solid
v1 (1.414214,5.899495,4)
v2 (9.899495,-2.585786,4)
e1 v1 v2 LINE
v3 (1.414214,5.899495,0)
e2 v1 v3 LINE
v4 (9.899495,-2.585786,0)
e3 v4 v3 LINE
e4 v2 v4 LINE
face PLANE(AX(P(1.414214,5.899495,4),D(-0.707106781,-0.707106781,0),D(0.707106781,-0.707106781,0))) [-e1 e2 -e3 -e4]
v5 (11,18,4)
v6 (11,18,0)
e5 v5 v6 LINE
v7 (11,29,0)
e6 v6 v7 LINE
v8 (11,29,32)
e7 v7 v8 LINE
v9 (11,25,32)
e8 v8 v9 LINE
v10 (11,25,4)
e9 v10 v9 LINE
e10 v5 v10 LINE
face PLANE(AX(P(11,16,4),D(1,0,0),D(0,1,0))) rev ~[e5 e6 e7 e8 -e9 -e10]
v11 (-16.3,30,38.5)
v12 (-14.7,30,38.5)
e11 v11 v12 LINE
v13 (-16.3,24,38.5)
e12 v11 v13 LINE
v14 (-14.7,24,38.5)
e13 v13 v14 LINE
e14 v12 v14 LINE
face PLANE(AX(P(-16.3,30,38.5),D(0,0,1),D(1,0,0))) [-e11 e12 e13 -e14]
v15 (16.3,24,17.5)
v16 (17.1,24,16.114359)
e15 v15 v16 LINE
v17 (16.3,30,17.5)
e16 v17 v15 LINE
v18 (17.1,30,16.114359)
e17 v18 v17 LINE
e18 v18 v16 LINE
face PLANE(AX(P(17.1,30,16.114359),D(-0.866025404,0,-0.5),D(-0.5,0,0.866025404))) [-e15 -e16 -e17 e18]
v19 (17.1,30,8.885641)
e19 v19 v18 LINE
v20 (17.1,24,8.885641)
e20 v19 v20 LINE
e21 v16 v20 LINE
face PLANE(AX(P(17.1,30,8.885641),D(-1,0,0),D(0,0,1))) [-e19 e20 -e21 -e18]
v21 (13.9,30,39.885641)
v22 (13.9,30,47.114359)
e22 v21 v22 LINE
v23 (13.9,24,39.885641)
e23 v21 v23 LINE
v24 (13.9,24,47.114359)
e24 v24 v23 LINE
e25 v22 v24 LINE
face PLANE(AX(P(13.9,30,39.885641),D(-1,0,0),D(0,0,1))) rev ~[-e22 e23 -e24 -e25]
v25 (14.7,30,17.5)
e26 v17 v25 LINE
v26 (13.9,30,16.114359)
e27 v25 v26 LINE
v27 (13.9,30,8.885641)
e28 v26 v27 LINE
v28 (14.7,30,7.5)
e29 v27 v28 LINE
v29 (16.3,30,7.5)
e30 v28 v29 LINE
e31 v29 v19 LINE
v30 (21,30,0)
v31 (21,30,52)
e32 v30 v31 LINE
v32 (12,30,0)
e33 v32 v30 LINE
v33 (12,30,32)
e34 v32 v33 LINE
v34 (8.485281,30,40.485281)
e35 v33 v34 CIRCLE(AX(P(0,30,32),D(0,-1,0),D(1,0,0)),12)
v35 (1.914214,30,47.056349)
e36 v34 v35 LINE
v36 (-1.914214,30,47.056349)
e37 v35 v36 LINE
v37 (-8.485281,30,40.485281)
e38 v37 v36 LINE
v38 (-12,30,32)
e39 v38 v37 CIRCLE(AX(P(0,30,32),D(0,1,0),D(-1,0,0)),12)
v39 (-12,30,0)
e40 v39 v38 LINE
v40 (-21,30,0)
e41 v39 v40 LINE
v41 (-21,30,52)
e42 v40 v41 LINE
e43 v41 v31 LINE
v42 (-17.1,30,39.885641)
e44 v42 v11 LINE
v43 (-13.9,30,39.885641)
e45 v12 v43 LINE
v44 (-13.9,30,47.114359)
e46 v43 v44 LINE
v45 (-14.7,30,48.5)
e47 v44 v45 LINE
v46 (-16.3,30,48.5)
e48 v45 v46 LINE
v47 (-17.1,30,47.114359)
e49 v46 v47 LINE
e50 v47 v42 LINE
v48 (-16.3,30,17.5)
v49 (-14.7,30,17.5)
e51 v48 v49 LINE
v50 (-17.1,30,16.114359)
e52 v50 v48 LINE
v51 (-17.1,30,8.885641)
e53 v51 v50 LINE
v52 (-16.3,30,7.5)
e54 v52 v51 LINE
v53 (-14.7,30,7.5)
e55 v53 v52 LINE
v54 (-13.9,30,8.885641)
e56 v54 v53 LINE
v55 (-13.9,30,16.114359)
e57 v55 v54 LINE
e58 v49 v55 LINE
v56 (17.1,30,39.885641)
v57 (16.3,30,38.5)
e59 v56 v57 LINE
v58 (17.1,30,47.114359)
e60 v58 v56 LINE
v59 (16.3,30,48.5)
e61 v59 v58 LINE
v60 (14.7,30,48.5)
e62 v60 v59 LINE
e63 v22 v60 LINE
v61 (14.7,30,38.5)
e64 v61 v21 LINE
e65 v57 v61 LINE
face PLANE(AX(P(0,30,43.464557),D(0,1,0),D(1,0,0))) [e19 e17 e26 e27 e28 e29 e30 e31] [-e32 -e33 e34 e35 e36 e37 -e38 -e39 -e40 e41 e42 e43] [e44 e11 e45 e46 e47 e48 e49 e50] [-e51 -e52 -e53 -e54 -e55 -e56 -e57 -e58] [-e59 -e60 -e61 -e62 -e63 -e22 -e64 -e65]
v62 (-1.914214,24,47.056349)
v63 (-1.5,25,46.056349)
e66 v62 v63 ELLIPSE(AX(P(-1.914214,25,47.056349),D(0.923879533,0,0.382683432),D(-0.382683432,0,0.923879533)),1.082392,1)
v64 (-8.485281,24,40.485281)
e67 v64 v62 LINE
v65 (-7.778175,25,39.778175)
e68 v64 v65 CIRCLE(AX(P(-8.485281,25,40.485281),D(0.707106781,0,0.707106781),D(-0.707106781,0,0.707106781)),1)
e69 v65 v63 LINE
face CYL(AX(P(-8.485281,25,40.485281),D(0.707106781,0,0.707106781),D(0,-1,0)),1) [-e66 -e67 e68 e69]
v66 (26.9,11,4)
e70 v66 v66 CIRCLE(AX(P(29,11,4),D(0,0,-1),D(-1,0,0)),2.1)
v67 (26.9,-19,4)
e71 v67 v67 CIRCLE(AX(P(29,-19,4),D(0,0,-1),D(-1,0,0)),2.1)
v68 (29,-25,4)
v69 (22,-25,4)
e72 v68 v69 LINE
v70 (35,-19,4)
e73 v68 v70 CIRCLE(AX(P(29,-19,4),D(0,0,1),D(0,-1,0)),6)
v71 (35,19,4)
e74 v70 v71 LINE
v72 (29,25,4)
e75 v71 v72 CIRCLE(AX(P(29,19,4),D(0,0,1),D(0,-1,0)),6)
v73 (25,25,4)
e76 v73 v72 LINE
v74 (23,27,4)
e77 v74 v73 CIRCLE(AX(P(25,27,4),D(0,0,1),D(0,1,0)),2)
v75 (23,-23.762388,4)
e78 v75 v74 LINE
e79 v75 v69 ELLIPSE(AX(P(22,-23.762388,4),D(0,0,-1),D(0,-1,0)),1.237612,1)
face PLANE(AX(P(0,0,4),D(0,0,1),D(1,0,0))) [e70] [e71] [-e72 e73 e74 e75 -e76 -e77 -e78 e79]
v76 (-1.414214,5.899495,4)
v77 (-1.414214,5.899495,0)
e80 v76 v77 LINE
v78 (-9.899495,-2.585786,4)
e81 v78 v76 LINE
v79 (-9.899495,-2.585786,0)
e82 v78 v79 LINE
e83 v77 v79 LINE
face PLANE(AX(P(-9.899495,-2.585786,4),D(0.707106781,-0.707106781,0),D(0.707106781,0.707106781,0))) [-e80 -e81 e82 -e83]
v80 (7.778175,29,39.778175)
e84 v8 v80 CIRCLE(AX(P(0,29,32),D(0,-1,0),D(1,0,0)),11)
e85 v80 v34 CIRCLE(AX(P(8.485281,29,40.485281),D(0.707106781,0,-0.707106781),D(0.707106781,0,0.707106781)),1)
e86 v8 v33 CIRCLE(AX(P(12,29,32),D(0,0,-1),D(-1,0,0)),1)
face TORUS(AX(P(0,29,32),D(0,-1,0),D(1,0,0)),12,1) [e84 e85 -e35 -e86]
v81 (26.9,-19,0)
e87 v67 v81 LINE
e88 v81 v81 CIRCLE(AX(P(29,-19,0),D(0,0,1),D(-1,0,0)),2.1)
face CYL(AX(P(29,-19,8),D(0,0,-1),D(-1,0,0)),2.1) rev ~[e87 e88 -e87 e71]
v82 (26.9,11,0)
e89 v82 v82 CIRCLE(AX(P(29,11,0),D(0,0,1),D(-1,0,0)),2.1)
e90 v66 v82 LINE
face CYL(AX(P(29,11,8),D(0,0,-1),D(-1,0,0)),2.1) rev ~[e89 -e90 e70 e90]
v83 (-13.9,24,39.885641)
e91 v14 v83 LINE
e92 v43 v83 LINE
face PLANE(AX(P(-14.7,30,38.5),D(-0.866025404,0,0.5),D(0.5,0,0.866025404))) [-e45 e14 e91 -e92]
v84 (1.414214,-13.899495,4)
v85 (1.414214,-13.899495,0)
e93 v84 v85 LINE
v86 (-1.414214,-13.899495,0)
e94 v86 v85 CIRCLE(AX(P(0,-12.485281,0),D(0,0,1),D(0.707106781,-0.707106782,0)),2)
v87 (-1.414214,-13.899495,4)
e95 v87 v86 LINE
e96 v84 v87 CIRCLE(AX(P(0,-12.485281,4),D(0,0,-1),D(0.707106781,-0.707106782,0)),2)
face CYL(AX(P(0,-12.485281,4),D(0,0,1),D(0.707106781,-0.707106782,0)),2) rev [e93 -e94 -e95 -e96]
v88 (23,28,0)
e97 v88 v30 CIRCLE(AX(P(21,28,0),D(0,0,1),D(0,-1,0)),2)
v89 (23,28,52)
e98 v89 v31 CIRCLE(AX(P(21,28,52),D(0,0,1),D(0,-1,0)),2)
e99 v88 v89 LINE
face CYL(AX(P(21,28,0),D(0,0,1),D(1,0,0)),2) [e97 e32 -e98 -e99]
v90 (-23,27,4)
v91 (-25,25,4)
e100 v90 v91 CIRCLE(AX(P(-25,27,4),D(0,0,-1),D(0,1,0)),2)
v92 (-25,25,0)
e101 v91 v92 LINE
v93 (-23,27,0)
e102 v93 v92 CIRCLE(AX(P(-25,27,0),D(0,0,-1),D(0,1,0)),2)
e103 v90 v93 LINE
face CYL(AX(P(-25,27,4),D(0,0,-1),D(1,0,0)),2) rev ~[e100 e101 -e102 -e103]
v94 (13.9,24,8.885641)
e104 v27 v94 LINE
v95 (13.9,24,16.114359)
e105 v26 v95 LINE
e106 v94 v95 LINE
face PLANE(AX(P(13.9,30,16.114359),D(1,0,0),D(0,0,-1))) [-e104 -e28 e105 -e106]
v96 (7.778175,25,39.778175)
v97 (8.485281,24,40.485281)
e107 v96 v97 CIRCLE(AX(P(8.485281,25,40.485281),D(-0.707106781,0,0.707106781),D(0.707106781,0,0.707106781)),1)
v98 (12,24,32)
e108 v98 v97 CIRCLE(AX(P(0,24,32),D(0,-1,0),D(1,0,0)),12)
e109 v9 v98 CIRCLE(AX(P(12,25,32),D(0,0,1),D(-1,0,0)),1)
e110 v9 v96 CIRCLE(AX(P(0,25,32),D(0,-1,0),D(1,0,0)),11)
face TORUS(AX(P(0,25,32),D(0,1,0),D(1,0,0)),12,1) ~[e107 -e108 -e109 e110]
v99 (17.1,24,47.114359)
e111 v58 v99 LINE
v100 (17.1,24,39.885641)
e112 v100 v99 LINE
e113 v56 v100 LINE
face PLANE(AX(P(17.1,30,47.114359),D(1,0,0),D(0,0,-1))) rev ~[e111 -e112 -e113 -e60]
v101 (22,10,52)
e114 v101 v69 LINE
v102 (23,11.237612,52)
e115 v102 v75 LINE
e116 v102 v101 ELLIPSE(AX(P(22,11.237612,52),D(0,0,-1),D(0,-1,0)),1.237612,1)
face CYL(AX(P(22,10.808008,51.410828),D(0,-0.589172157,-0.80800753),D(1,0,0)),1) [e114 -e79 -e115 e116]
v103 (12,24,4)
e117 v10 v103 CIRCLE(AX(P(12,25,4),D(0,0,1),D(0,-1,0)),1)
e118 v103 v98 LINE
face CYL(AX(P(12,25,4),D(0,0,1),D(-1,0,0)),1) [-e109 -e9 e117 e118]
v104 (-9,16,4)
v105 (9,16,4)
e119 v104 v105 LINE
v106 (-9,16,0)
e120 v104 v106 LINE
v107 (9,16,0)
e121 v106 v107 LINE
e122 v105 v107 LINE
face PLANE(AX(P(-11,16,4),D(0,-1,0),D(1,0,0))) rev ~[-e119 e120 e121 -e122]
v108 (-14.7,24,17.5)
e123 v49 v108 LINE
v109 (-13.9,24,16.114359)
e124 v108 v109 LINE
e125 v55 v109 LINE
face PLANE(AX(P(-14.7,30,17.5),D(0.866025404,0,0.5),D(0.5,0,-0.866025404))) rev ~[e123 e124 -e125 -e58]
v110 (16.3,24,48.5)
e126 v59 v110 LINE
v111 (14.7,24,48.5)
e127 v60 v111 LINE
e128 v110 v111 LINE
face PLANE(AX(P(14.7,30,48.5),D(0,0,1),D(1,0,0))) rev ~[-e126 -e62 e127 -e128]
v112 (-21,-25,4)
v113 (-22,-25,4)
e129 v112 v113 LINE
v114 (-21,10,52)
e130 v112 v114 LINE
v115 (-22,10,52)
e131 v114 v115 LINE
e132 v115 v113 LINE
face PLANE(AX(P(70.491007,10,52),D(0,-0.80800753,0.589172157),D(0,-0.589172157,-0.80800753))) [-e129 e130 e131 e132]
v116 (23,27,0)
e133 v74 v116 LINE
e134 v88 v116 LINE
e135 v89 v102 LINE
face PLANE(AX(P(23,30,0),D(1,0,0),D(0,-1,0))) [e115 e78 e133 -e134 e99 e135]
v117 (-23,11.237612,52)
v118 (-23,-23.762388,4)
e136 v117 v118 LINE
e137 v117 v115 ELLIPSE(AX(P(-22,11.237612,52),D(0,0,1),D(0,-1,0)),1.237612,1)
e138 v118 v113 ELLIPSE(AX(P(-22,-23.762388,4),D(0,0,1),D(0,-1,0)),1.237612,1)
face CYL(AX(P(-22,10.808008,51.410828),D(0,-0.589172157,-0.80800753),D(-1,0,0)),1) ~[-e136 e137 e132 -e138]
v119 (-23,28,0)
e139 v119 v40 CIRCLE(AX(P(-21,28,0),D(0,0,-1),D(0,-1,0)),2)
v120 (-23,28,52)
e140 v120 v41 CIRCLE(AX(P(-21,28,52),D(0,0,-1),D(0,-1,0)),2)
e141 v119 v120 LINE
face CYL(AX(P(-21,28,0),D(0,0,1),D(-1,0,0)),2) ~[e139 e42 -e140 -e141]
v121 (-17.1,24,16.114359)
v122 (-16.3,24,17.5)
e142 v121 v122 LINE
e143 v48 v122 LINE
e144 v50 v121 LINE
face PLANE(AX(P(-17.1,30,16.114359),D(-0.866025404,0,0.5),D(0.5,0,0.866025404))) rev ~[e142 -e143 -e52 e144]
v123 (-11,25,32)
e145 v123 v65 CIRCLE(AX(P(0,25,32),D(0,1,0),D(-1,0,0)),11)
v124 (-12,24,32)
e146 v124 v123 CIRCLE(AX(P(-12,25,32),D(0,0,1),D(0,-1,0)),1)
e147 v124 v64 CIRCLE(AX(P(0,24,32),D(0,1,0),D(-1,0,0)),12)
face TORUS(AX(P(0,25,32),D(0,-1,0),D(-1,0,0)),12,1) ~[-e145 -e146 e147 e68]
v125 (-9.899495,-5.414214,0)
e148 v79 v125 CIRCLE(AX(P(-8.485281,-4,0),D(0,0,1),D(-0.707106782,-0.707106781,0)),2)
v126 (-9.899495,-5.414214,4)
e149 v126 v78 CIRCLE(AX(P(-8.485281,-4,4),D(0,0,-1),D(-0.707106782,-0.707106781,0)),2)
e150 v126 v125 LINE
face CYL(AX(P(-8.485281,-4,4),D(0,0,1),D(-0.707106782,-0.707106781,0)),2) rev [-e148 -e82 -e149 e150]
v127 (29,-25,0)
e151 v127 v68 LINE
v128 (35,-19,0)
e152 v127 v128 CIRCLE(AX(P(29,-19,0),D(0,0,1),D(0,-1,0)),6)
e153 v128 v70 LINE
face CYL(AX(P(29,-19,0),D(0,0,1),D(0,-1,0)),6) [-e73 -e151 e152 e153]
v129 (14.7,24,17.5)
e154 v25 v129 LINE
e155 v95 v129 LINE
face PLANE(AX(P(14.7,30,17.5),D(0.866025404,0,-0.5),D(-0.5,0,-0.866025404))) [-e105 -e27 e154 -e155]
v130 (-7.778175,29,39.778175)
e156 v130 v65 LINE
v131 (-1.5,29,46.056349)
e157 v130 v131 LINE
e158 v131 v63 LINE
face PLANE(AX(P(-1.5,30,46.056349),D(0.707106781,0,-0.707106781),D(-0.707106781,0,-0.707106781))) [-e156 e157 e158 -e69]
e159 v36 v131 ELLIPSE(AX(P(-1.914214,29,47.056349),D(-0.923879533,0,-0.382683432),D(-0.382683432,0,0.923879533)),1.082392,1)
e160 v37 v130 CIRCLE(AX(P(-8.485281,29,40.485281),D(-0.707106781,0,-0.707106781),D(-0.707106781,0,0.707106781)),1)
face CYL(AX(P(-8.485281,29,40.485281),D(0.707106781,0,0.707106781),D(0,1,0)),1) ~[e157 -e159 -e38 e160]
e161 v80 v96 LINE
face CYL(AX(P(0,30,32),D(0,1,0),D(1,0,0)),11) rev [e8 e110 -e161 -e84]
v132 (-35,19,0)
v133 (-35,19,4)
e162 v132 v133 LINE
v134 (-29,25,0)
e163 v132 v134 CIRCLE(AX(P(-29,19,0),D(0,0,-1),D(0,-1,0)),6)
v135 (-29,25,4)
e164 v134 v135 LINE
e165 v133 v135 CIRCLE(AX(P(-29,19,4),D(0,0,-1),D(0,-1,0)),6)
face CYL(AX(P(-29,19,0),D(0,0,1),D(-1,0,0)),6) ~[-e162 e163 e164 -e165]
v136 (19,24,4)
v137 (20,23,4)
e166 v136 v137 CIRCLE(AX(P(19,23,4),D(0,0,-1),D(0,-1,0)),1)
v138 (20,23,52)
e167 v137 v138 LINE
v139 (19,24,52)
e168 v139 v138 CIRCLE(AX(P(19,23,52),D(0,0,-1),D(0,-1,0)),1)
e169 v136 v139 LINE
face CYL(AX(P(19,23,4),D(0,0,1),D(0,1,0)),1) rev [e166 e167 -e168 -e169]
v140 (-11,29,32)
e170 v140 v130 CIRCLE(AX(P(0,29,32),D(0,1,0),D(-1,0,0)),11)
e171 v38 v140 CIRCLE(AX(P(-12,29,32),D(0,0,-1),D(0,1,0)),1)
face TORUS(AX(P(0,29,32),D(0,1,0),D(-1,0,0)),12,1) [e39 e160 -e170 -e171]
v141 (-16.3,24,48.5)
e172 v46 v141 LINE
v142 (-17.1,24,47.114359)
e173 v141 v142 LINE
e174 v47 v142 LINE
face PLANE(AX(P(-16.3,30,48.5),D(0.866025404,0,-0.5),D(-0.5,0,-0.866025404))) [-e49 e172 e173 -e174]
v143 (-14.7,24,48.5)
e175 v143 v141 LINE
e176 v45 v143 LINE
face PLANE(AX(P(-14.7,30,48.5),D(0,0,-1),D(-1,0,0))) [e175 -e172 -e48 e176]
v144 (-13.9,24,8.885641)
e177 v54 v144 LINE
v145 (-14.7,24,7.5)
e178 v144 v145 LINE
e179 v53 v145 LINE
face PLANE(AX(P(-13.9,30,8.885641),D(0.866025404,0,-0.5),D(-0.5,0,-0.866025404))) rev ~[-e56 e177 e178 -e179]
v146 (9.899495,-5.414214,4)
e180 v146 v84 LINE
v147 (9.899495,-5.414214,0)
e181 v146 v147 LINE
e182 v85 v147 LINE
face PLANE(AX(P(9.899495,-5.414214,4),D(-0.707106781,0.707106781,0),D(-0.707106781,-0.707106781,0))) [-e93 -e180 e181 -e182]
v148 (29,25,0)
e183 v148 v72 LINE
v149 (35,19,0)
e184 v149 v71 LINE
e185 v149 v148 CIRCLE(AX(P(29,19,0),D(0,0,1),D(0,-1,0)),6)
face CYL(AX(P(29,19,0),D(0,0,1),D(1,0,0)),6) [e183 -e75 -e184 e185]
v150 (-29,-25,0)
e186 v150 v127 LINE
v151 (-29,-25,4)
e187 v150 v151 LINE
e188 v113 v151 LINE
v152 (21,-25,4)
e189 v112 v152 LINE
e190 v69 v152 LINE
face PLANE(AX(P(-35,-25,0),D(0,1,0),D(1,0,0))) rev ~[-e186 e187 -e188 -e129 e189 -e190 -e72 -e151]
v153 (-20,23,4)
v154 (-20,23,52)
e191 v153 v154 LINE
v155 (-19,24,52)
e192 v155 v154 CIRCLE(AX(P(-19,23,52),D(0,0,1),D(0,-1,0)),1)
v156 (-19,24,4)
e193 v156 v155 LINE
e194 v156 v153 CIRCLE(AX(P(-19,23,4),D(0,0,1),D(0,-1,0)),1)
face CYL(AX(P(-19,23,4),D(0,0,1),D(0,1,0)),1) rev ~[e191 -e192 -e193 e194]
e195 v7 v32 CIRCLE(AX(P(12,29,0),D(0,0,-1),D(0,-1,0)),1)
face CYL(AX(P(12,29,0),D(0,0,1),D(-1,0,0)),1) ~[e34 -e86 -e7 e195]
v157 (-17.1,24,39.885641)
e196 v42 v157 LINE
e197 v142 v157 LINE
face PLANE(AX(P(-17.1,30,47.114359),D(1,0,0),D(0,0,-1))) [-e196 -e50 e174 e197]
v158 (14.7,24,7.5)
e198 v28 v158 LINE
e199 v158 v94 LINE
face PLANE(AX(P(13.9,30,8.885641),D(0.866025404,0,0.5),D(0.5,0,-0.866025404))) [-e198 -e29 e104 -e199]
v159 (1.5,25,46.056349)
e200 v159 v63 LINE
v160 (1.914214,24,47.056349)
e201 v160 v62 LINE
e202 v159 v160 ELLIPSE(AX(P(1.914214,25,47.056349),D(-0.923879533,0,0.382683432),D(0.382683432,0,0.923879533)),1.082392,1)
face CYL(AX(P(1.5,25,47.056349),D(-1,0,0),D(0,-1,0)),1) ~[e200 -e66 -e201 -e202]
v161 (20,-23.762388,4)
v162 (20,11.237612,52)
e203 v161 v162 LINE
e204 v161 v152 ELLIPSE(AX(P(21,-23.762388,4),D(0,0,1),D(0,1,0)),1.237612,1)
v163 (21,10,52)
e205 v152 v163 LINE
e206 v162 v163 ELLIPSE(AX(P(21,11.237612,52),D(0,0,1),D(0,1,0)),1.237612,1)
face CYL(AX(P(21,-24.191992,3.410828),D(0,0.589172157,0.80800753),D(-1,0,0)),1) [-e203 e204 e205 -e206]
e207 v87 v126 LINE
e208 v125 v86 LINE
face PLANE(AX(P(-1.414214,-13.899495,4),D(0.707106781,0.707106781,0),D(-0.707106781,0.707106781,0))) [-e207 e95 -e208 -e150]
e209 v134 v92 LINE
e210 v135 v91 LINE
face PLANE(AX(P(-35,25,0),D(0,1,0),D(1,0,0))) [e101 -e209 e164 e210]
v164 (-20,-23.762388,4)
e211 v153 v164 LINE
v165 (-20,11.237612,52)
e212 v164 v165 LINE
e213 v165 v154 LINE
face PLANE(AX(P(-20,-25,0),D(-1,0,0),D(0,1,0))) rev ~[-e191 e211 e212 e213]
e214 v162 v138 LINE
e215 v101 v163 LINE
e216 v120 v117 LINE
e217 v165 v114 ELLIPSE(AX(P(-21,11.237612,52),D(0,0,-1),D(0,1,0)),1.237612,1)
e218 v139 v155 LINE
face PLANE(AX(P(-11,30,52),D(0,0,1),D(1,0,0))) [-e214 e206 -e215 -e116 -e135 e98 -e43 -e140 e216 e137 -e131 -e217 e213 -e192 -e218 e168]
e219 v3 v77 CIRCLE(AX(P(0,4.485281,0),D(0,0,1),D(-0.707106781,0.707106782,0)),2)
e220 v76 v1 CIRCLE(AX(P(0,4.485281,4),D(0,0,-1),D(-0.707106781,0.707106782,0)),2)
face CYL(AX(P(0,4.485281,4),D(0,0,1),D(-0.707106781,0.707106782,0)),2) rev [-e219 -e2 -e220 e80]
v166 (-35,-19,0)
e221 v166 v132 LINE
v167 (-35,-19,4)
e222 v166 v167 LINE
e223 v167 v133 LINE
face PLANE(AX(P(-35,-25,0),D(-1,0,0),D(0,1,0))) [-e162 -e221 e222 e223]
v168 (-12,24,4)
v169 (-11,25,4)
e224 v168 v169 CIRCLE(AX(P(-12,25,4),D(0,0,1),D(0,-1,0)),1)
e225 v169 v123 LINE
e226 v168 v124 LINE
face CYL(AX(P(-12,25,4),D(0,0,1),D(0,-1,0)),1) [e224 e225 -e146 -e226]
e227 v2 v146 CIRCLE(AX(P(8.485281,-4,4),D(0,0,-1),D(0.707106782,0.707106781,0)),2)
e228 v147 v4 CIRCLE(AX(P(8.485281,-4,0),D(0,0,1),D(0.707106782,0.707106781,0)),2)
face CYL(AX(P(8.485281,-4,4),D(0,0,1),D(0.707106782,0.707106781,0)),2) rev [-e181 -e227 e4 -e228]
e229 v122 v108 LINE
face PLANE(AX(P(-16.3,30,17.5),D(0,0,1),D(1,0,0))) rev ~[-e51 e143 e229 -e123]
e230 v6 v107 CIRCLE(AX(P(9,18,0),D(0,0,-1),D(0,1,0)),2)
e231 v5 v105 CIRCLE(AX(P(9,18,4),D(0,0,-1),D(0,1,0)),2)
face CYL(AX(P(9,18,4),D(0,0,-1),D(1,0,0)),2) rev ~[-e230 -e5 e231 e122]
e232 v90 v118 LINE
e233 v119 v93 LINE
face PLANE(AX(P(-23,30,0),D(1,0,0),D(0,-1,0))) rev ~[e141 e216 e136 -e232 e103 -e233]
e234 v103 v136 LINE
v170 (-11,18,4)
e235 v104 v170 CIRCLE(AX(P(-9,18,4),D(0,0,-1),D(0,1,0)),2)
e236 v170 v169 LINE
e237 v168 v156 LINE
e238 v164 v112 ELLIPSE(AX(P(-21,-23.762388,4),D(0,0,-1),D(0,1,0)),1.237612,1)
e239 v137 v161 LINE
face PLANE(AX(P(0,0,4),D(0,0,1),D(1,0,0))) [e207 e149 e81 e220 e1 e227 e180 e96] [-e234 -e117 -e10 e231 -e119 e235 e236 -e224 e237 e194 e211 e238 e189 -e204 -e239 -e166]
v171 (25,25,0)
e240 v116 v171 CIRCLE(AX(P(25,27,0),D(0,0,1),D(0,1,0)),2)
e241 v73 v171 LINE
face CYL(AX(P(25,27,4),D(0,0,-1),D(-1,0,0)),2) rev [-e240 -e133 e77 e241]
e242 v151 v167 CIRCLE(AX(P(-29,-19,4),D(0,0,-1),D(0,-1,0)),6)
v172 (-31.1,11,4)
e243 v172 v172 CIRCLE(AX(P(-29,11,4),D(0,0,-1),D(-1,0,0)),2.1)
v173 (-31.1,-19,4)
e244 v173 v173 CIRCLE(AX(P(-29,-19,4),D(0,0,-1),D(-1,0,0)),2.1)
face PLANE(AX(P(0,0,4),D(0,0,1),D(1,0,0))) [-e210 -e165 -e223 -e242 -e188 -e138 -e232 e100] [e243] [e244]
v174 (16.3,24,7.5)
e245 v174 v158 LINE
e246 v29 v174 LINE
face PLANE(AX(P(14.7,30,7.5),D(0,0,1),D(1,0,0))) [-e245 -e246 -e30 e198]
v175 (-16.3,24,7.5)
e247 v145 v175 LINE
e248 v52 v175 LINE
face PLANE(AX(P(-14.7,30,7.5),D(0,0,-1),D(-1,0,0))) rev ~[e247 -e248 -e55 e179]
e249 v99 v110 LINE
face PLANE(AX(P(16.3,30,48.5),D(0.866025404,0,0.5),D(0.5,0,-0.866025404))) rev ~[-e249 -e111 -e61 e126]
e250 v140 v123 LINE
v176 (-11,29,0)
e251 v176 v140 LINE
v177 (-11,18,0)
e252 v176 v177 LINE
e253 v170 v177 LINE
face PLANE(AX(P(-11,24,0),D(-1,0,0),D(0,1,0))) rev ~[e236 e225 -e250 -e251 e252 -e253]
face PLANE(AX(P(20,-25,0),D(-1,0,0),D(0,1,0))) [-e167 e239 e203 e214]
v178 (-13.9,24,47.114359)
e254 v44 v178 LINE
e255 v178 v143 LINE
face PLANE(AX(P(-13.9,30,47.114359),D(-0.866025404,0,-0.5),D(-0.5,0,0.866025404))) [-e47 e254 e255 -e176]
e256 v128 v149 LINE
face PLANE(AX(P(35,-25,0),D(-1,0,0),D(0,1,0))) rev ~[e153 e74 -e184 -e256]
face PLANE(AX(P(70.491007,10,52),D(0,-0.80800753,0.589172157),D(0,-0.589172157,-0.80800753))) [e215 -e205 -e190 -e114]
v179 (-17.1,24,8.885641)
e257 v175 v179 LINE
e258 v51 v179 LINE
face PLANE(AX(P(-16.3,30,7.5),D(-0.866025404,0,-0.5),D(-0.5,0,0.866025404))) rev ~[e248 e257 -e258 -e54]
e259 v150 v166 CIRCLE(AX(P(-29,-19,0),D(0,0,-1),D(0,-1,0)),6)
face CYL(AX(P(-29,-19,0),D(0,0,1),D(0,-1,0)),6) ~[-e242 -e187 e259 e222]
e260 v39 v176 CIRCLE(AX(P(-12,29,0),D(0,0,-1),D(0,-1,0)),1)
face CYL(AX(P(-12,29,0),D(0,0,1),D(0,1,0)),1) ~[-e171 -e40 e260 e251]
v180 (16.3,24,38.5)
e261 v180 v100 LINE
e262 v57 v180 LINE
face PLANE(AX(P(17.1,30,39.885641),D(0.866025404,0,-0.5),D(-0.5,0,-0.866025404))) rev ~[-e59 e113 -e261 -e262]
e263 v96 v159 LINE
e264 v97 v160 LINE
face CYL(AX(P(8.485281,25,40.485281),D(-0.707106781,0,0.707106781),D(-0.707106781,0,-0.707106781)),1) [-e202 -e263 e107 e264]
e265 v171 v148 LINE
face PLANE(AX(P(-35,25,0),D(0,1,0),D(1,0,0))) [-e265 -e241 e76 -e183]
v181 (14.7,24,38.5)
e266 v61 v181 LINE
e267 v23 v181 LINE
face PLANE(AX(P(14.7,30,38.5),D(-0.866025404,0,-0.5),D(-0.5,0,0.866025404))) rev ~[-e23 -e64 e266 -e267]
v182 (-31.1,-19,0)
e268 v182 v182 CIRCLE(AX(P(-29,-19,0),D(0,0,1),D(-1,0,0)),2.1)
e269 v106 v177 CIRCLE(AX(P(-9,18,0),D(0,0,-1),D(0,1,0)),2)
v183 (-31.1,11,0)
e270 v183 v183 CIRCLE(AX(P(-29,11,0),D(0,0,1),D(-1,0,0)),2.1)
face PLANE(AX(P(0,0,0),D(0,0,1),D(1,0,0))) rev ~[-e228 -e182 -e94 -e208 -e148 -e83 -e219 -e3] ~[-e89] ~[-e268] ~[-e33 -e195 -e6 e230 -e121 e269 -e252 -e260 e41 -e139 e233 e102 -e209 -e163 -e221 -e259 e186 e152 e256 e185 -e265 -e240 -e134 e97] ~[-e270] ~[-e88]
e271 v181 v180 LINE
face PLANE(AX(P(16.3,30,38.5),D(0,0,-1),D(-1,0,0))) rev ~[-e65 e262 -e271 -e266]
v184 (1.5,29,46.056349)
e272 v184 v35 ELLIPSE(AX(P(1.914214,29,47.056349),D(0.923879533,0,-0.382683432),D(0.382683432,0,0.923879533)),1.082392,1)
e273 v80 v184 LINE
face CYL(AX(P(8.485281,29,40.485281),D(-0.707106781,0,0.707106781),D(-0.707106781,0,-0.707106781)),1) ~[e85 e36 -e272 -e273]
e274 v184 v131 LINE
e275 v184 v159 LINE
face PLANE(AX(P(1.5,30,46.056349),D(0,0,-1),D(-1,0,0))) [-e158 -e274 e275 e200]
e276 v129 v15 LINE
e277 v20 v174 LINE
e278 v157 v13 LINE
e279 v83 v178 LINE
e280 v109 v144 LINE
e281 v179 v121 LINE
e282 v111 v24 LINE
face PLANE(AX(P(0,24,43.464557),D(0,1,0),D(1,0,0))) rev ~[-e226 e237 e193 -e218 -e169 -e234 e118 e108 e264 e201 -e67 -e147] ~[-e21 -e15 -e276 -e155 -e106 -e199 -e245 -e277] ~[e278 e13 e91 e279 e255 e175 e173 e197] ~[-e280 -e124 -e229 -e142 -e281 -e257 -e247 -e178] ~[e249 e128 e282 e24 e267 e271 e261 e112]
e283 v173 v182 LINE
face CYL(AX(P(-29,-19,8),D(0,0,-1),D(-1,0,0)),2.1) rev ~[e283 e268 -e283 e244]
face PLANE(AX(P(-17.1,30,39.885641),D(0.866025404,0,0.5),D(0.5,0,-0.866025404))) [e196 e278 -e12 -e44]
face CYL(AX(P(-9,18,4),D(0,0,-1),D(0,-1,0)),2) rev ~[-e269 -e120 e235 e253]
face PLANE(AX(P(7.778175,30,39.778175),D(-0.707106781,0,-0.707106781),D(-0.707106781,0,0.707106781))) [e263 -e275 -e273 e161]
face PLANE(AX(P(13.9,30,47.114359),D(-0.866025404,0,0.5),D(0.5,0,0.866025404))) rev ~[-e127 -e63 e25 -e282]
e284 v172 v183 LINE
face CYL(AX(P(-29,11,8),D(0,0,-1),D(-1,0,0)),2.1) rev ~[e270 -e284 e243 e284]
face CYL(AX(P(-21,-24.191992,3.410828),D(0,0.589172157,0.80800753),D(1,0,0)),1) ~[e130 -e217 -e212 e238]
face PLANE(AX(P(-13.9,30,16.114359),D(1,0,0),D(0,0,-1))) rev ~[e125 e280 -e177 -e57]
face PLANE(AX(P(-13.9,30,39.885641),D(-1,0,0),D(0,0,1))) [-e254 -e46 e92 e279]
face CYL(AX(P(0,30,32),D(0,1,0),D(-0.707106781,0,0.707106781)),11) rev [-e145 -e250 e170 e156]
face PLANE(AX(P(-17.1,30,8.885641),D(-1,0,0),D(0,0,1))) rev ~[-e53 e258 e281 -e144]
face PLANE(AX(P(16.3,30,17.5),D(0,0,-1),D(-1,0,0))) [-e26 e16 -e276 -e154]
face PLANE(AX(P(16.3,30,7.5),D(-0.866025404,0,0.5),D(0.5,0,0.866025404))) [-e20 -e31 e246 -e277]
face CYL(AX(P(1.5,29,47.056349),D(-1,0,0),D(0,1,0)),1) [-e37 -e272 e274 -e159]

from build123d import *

# Parameters (mm, degrees)
SKETCH1_W                      = 70
SKETCH1_H                      = 50
BOSS_EXTRUDE1_DEPTH            = 4
BOSS_EXTRUDE2_DEPTH            = 52
CUT_EXTRUDE3_DEPTH             = 70.491006612
CUT_EXTRUDE3_DEPTH_BACK        = 70.491006612
FILLET1_R                      = 6
CUT_EXTRUDE6_DEPTH             = 84.390646958
SKETCH7_W                      = 22
SKETCH7_H                      = 9
CUT_EXTRUDE7_DEPTH             = 67.550732528
F_4_2_4_2_DIAMETER_HOLE1_D     = 4.2
F_4_2_4_2_DIAMETER_HOLE1_DEPTH = 4
F_4_2_4_2_DIAMETER_HOLE1_TIP   = 1.2618073
CUT_EXTRUDE8_REACH             = 68.551
BOSS_EXTRUDE3_DEPTH            = 6
FILLET2_R                      = 2
FILLET3_R                      = 1
FILLET4_R                      = 1


with BuildPart() as part:
    # Sketch1 → Boss-Extrude1 (new body)
    with BuildSketch(Plane.XY):
        Rectangle(SKETCH1_W, SKETCH1_H)
    extrude(amount=BOSS_EXTRUDE1_DEPTH)

    # Sketch2 → Boss-Extrude2 (add)
    with BuildSketch(Plane.XY):
        Polygon((-23, -25), (-20, -25), (-20, 24), (-11, 24), (-11, 30), (-23, 30), align=None)
        Polygon((11, 24), (11, 30), (23, 30), (23, -25), (20, -25), (20, 24), align=None)
    extrude(amount=BOSS_EXTRUDE2_DEPTH)

    # Sketch3 → Cut-Extrude3 (cut, two sides: drawn at the far end of the back side and taken through both)
    with BuildSketch(Plane.ZY.offset(-CUT_EXTRUDE3_DEPTH_BACK)):
        Polygon((178.049174714, 101.910856562), (52, 10), (4, -25), (-122.049174714, -116.910856562), (61.77253841, -369.00920599), (361.870887838, -150.187492865), align=None)
    extrude(amount=CUT_EXTRUDE3_DEPTH + CUT_EXTRUDE3_DEPTH_BACK, mode=Mode.SUBTRACT)

    # Fillet1
    fillet1_edges = [part.edges().sort_by_distance(p)[0] for p in [
        (35, -25, 2),
        (-35, -25, 2),
        (-35, 25, 2),
        (35, 25, 2),
    ]]
    fillet(fillet1_edges, radius=FILLET1_R)

    # Sketch6 → Cut-Extrude6 (cut, through all)
    with BuildSketch(Plane(origin=(0, 30, 0), x_dir=(1, 0, 0), z_dir=(0, 1, 0))):
        Polygon((-17.1, -47.114359354), (-17.1, -39.885640646), (-16.3, -38.5), (-14.7, -38.5), (-13.9, -39.885640646), (-13.9, -47.114359354), (-14.7, -48.5), (-16.3, -48.5), align=None)
        Polygon((16.3, -48.5), (17.1, -47.114359354), (17.1, -39.885640646), (16.3, -38.5), (14.7, -38.5), (13.9, -39.885640646), (13.9, -47.114359354), (14.7, -48.5), align=None)
        Polygon((17.1, -8.885640646), (17.1, -16.114359354), (16.3, -17.5), (14.7, -17.5), (13.9, -16.114359354), (13.9, -8.885640646), (14.7, -7.5), (16.3, -7.5), align=None)
        Polygon((-16.3, -7.5), (-17.1, -8.885640646), (-17.1, -16.114359354), (-16.3, -17.5), (-14.7, -17.5), (-13.9, -16.114359354), (-13.9, -8.885640646), (-14.7, -7.5), align=None)
    extrude(amount=-CUT_EXTRUDE6_DEPTH, mode=Mode.SUBTRACT)

    # Sketch7 → Cut-Extrude7 (cut, through all)
    with BuildSketch(Plane.XY.offset(4)):
        with Locations((0, 20.5)):
            Rectangle(SKETCH7_W, SKETCH7_H)
    extrude(amount=-CUT_EXTRUDE7_DEPTH, mode=Mode.SUBTRACT)

    # Ø4.2 (4.2) Diameter Hole1
    with Locations(Plane.XY.offset(4)):
        with Locations((-29, -19), (-29, 11), (29, -19), (29, 11)):
            Hole(F_4_2_4_2_DIAMETER_HOLE1_D / 2, depth=F_4_2_4_2_DIAMETER_HOLE1_DEPTH)
            with Locations((0, 0, -(F_4_2_4_2_DIAMETER_HOLE1_DEPTH + F_4_2_4_2_DIAMETER_HOLE1_TIP / 2))):  # 118° drill point
                Cone(0, F_4_2_4_2_DIAMETER_HOLE1_D / 2, F_4_2_4_2_DIAMETER_HOLE1_TIP, mode=Mode.SUBTRACT)

    # Sketch10 → Cut-Extrude8 (cut, up to next)
    with BuildSketch(Plane.XY.offset(4), mode=Mode.PRIVATE) as cut_extrude8_sk1:
        with BuildLine():
            Line((1.414213562, 5.899494937), (9.899494937, -2.585786438))
            ThreePointArc((9.899494937, -2.585786438), (10.485281374, -4), (9.899494937, -5.414213562))
            Line((9.899494937, -5.414213562), (1.414213562, -13.899494937))
            ThreePointArc((1.414213562, -13.899494937), (0, -14.485281374), (-1.414213562, -13.899494937))
            Line((-1.414213562, -13.899494937), (-9.899494937, -5.414213562))
            ThreePointArc((-9.899494937, -5.414213562), (-10.485281374, -4), (-9.899494937, -2.585786438))
            Line((-9.899494937, -2.585786438), (-1.414213562, 5.899494937))
            ThreePointArc((-1.414213562, 5.899494937), (0, 6.485281374), (1.414213562, 5.899494937))
        make_face()
    cut_extrude8_tool1 = extrude(cut_extrude8_sk1.sketch, amount=-CUT_EXTRUDE8_REACH, mode=Mode.PRIVATE) & part.part
    add(cut_extrude8_tool1.solids().sort_by_distance((0, -4, 4))[0], mode=Mode.SUBTRACT)

    # Sketch11 → Boss-Extrude3 (add)
    with BuildSketch(Plane(origin=(0, 30, 0), x_dir=(1, 0, 0), z_dir=(0, 1, 0))):
        with BuildLine():
            Line((-1.5, -46.056349186), (-7.778174593, -39.778174593))
            ThreePointArc((-7.778174593, -39.778174593), (-10.162674858, -36.209517756), (-11, -32))
            Line((-11, -32), (-11, -52))
            Line((-11, -52), (11, -52))
            Line((11, -52), (11, -32))
            ThreePointArc((11, -32), (10.162674858, -36.209517756), (7.778174593, -39.778174593))
            Line((7.778174593, -39.778174593), (1.5, -46.056349186))
            Line((1.5, -46.056349186), (-1.5, -46.056349186))
        make_face()
    extrude(amount=-BOSS_EXTRUDE3_DEPTH)

    # Fillet2
    fillet2_edges = [part.edges().sort_by_distance(p)[0] for p in [
        (-23, 25, 2),
        (-23, 30, 26),
        (-11, 16, 2),
        (11, 16, 2),
        (23, 25, 2),
        (23, 30, 26),
    ]]
    fillet(fillet2_edges, radius=FILLET2_R)

    # Fillet3
    fillet3_edges = [part.edges().sort_by_distance(p)[0] for p in [
        (11, 30, 16),
        (-11, 30, 16),
        (-10.162674858, 30, 36.209517756),
        (10.162674858, 30, 36.209517756),
        (4.639087297, 30, 42.91726189),
        (0, 30, 46.056349186),
        (-4.639087297, 30, 42.91726189),
    ]]
    fillet(fillet3_edges, radius=FILLET3_R)

    # Fillet4
    fillet4_edges = [part.edges().sort_by_distance(p)[0] for p in [
        (-20, 24, 28),
        (11, 24, 18),
        (-11, 24, 18),
        (-10.162674858, 24, 36.209517756),
        (-4.639087297, 24, 42.91726189),
        (0, 24, 46.056349186),
        (4.639087297, 24, 42.91726189),
        (10.162674858, 24, 36.209517756),
        (20, 24, 28),
        (-23, -7.5, 28),
        (-20, -7.5, 28),
        (20, -7.5, 28),
        (23, -7.5, 28),
    ]]
    fillet(fillet4_edges, radius=FILLET4_R)


solid = part.part
